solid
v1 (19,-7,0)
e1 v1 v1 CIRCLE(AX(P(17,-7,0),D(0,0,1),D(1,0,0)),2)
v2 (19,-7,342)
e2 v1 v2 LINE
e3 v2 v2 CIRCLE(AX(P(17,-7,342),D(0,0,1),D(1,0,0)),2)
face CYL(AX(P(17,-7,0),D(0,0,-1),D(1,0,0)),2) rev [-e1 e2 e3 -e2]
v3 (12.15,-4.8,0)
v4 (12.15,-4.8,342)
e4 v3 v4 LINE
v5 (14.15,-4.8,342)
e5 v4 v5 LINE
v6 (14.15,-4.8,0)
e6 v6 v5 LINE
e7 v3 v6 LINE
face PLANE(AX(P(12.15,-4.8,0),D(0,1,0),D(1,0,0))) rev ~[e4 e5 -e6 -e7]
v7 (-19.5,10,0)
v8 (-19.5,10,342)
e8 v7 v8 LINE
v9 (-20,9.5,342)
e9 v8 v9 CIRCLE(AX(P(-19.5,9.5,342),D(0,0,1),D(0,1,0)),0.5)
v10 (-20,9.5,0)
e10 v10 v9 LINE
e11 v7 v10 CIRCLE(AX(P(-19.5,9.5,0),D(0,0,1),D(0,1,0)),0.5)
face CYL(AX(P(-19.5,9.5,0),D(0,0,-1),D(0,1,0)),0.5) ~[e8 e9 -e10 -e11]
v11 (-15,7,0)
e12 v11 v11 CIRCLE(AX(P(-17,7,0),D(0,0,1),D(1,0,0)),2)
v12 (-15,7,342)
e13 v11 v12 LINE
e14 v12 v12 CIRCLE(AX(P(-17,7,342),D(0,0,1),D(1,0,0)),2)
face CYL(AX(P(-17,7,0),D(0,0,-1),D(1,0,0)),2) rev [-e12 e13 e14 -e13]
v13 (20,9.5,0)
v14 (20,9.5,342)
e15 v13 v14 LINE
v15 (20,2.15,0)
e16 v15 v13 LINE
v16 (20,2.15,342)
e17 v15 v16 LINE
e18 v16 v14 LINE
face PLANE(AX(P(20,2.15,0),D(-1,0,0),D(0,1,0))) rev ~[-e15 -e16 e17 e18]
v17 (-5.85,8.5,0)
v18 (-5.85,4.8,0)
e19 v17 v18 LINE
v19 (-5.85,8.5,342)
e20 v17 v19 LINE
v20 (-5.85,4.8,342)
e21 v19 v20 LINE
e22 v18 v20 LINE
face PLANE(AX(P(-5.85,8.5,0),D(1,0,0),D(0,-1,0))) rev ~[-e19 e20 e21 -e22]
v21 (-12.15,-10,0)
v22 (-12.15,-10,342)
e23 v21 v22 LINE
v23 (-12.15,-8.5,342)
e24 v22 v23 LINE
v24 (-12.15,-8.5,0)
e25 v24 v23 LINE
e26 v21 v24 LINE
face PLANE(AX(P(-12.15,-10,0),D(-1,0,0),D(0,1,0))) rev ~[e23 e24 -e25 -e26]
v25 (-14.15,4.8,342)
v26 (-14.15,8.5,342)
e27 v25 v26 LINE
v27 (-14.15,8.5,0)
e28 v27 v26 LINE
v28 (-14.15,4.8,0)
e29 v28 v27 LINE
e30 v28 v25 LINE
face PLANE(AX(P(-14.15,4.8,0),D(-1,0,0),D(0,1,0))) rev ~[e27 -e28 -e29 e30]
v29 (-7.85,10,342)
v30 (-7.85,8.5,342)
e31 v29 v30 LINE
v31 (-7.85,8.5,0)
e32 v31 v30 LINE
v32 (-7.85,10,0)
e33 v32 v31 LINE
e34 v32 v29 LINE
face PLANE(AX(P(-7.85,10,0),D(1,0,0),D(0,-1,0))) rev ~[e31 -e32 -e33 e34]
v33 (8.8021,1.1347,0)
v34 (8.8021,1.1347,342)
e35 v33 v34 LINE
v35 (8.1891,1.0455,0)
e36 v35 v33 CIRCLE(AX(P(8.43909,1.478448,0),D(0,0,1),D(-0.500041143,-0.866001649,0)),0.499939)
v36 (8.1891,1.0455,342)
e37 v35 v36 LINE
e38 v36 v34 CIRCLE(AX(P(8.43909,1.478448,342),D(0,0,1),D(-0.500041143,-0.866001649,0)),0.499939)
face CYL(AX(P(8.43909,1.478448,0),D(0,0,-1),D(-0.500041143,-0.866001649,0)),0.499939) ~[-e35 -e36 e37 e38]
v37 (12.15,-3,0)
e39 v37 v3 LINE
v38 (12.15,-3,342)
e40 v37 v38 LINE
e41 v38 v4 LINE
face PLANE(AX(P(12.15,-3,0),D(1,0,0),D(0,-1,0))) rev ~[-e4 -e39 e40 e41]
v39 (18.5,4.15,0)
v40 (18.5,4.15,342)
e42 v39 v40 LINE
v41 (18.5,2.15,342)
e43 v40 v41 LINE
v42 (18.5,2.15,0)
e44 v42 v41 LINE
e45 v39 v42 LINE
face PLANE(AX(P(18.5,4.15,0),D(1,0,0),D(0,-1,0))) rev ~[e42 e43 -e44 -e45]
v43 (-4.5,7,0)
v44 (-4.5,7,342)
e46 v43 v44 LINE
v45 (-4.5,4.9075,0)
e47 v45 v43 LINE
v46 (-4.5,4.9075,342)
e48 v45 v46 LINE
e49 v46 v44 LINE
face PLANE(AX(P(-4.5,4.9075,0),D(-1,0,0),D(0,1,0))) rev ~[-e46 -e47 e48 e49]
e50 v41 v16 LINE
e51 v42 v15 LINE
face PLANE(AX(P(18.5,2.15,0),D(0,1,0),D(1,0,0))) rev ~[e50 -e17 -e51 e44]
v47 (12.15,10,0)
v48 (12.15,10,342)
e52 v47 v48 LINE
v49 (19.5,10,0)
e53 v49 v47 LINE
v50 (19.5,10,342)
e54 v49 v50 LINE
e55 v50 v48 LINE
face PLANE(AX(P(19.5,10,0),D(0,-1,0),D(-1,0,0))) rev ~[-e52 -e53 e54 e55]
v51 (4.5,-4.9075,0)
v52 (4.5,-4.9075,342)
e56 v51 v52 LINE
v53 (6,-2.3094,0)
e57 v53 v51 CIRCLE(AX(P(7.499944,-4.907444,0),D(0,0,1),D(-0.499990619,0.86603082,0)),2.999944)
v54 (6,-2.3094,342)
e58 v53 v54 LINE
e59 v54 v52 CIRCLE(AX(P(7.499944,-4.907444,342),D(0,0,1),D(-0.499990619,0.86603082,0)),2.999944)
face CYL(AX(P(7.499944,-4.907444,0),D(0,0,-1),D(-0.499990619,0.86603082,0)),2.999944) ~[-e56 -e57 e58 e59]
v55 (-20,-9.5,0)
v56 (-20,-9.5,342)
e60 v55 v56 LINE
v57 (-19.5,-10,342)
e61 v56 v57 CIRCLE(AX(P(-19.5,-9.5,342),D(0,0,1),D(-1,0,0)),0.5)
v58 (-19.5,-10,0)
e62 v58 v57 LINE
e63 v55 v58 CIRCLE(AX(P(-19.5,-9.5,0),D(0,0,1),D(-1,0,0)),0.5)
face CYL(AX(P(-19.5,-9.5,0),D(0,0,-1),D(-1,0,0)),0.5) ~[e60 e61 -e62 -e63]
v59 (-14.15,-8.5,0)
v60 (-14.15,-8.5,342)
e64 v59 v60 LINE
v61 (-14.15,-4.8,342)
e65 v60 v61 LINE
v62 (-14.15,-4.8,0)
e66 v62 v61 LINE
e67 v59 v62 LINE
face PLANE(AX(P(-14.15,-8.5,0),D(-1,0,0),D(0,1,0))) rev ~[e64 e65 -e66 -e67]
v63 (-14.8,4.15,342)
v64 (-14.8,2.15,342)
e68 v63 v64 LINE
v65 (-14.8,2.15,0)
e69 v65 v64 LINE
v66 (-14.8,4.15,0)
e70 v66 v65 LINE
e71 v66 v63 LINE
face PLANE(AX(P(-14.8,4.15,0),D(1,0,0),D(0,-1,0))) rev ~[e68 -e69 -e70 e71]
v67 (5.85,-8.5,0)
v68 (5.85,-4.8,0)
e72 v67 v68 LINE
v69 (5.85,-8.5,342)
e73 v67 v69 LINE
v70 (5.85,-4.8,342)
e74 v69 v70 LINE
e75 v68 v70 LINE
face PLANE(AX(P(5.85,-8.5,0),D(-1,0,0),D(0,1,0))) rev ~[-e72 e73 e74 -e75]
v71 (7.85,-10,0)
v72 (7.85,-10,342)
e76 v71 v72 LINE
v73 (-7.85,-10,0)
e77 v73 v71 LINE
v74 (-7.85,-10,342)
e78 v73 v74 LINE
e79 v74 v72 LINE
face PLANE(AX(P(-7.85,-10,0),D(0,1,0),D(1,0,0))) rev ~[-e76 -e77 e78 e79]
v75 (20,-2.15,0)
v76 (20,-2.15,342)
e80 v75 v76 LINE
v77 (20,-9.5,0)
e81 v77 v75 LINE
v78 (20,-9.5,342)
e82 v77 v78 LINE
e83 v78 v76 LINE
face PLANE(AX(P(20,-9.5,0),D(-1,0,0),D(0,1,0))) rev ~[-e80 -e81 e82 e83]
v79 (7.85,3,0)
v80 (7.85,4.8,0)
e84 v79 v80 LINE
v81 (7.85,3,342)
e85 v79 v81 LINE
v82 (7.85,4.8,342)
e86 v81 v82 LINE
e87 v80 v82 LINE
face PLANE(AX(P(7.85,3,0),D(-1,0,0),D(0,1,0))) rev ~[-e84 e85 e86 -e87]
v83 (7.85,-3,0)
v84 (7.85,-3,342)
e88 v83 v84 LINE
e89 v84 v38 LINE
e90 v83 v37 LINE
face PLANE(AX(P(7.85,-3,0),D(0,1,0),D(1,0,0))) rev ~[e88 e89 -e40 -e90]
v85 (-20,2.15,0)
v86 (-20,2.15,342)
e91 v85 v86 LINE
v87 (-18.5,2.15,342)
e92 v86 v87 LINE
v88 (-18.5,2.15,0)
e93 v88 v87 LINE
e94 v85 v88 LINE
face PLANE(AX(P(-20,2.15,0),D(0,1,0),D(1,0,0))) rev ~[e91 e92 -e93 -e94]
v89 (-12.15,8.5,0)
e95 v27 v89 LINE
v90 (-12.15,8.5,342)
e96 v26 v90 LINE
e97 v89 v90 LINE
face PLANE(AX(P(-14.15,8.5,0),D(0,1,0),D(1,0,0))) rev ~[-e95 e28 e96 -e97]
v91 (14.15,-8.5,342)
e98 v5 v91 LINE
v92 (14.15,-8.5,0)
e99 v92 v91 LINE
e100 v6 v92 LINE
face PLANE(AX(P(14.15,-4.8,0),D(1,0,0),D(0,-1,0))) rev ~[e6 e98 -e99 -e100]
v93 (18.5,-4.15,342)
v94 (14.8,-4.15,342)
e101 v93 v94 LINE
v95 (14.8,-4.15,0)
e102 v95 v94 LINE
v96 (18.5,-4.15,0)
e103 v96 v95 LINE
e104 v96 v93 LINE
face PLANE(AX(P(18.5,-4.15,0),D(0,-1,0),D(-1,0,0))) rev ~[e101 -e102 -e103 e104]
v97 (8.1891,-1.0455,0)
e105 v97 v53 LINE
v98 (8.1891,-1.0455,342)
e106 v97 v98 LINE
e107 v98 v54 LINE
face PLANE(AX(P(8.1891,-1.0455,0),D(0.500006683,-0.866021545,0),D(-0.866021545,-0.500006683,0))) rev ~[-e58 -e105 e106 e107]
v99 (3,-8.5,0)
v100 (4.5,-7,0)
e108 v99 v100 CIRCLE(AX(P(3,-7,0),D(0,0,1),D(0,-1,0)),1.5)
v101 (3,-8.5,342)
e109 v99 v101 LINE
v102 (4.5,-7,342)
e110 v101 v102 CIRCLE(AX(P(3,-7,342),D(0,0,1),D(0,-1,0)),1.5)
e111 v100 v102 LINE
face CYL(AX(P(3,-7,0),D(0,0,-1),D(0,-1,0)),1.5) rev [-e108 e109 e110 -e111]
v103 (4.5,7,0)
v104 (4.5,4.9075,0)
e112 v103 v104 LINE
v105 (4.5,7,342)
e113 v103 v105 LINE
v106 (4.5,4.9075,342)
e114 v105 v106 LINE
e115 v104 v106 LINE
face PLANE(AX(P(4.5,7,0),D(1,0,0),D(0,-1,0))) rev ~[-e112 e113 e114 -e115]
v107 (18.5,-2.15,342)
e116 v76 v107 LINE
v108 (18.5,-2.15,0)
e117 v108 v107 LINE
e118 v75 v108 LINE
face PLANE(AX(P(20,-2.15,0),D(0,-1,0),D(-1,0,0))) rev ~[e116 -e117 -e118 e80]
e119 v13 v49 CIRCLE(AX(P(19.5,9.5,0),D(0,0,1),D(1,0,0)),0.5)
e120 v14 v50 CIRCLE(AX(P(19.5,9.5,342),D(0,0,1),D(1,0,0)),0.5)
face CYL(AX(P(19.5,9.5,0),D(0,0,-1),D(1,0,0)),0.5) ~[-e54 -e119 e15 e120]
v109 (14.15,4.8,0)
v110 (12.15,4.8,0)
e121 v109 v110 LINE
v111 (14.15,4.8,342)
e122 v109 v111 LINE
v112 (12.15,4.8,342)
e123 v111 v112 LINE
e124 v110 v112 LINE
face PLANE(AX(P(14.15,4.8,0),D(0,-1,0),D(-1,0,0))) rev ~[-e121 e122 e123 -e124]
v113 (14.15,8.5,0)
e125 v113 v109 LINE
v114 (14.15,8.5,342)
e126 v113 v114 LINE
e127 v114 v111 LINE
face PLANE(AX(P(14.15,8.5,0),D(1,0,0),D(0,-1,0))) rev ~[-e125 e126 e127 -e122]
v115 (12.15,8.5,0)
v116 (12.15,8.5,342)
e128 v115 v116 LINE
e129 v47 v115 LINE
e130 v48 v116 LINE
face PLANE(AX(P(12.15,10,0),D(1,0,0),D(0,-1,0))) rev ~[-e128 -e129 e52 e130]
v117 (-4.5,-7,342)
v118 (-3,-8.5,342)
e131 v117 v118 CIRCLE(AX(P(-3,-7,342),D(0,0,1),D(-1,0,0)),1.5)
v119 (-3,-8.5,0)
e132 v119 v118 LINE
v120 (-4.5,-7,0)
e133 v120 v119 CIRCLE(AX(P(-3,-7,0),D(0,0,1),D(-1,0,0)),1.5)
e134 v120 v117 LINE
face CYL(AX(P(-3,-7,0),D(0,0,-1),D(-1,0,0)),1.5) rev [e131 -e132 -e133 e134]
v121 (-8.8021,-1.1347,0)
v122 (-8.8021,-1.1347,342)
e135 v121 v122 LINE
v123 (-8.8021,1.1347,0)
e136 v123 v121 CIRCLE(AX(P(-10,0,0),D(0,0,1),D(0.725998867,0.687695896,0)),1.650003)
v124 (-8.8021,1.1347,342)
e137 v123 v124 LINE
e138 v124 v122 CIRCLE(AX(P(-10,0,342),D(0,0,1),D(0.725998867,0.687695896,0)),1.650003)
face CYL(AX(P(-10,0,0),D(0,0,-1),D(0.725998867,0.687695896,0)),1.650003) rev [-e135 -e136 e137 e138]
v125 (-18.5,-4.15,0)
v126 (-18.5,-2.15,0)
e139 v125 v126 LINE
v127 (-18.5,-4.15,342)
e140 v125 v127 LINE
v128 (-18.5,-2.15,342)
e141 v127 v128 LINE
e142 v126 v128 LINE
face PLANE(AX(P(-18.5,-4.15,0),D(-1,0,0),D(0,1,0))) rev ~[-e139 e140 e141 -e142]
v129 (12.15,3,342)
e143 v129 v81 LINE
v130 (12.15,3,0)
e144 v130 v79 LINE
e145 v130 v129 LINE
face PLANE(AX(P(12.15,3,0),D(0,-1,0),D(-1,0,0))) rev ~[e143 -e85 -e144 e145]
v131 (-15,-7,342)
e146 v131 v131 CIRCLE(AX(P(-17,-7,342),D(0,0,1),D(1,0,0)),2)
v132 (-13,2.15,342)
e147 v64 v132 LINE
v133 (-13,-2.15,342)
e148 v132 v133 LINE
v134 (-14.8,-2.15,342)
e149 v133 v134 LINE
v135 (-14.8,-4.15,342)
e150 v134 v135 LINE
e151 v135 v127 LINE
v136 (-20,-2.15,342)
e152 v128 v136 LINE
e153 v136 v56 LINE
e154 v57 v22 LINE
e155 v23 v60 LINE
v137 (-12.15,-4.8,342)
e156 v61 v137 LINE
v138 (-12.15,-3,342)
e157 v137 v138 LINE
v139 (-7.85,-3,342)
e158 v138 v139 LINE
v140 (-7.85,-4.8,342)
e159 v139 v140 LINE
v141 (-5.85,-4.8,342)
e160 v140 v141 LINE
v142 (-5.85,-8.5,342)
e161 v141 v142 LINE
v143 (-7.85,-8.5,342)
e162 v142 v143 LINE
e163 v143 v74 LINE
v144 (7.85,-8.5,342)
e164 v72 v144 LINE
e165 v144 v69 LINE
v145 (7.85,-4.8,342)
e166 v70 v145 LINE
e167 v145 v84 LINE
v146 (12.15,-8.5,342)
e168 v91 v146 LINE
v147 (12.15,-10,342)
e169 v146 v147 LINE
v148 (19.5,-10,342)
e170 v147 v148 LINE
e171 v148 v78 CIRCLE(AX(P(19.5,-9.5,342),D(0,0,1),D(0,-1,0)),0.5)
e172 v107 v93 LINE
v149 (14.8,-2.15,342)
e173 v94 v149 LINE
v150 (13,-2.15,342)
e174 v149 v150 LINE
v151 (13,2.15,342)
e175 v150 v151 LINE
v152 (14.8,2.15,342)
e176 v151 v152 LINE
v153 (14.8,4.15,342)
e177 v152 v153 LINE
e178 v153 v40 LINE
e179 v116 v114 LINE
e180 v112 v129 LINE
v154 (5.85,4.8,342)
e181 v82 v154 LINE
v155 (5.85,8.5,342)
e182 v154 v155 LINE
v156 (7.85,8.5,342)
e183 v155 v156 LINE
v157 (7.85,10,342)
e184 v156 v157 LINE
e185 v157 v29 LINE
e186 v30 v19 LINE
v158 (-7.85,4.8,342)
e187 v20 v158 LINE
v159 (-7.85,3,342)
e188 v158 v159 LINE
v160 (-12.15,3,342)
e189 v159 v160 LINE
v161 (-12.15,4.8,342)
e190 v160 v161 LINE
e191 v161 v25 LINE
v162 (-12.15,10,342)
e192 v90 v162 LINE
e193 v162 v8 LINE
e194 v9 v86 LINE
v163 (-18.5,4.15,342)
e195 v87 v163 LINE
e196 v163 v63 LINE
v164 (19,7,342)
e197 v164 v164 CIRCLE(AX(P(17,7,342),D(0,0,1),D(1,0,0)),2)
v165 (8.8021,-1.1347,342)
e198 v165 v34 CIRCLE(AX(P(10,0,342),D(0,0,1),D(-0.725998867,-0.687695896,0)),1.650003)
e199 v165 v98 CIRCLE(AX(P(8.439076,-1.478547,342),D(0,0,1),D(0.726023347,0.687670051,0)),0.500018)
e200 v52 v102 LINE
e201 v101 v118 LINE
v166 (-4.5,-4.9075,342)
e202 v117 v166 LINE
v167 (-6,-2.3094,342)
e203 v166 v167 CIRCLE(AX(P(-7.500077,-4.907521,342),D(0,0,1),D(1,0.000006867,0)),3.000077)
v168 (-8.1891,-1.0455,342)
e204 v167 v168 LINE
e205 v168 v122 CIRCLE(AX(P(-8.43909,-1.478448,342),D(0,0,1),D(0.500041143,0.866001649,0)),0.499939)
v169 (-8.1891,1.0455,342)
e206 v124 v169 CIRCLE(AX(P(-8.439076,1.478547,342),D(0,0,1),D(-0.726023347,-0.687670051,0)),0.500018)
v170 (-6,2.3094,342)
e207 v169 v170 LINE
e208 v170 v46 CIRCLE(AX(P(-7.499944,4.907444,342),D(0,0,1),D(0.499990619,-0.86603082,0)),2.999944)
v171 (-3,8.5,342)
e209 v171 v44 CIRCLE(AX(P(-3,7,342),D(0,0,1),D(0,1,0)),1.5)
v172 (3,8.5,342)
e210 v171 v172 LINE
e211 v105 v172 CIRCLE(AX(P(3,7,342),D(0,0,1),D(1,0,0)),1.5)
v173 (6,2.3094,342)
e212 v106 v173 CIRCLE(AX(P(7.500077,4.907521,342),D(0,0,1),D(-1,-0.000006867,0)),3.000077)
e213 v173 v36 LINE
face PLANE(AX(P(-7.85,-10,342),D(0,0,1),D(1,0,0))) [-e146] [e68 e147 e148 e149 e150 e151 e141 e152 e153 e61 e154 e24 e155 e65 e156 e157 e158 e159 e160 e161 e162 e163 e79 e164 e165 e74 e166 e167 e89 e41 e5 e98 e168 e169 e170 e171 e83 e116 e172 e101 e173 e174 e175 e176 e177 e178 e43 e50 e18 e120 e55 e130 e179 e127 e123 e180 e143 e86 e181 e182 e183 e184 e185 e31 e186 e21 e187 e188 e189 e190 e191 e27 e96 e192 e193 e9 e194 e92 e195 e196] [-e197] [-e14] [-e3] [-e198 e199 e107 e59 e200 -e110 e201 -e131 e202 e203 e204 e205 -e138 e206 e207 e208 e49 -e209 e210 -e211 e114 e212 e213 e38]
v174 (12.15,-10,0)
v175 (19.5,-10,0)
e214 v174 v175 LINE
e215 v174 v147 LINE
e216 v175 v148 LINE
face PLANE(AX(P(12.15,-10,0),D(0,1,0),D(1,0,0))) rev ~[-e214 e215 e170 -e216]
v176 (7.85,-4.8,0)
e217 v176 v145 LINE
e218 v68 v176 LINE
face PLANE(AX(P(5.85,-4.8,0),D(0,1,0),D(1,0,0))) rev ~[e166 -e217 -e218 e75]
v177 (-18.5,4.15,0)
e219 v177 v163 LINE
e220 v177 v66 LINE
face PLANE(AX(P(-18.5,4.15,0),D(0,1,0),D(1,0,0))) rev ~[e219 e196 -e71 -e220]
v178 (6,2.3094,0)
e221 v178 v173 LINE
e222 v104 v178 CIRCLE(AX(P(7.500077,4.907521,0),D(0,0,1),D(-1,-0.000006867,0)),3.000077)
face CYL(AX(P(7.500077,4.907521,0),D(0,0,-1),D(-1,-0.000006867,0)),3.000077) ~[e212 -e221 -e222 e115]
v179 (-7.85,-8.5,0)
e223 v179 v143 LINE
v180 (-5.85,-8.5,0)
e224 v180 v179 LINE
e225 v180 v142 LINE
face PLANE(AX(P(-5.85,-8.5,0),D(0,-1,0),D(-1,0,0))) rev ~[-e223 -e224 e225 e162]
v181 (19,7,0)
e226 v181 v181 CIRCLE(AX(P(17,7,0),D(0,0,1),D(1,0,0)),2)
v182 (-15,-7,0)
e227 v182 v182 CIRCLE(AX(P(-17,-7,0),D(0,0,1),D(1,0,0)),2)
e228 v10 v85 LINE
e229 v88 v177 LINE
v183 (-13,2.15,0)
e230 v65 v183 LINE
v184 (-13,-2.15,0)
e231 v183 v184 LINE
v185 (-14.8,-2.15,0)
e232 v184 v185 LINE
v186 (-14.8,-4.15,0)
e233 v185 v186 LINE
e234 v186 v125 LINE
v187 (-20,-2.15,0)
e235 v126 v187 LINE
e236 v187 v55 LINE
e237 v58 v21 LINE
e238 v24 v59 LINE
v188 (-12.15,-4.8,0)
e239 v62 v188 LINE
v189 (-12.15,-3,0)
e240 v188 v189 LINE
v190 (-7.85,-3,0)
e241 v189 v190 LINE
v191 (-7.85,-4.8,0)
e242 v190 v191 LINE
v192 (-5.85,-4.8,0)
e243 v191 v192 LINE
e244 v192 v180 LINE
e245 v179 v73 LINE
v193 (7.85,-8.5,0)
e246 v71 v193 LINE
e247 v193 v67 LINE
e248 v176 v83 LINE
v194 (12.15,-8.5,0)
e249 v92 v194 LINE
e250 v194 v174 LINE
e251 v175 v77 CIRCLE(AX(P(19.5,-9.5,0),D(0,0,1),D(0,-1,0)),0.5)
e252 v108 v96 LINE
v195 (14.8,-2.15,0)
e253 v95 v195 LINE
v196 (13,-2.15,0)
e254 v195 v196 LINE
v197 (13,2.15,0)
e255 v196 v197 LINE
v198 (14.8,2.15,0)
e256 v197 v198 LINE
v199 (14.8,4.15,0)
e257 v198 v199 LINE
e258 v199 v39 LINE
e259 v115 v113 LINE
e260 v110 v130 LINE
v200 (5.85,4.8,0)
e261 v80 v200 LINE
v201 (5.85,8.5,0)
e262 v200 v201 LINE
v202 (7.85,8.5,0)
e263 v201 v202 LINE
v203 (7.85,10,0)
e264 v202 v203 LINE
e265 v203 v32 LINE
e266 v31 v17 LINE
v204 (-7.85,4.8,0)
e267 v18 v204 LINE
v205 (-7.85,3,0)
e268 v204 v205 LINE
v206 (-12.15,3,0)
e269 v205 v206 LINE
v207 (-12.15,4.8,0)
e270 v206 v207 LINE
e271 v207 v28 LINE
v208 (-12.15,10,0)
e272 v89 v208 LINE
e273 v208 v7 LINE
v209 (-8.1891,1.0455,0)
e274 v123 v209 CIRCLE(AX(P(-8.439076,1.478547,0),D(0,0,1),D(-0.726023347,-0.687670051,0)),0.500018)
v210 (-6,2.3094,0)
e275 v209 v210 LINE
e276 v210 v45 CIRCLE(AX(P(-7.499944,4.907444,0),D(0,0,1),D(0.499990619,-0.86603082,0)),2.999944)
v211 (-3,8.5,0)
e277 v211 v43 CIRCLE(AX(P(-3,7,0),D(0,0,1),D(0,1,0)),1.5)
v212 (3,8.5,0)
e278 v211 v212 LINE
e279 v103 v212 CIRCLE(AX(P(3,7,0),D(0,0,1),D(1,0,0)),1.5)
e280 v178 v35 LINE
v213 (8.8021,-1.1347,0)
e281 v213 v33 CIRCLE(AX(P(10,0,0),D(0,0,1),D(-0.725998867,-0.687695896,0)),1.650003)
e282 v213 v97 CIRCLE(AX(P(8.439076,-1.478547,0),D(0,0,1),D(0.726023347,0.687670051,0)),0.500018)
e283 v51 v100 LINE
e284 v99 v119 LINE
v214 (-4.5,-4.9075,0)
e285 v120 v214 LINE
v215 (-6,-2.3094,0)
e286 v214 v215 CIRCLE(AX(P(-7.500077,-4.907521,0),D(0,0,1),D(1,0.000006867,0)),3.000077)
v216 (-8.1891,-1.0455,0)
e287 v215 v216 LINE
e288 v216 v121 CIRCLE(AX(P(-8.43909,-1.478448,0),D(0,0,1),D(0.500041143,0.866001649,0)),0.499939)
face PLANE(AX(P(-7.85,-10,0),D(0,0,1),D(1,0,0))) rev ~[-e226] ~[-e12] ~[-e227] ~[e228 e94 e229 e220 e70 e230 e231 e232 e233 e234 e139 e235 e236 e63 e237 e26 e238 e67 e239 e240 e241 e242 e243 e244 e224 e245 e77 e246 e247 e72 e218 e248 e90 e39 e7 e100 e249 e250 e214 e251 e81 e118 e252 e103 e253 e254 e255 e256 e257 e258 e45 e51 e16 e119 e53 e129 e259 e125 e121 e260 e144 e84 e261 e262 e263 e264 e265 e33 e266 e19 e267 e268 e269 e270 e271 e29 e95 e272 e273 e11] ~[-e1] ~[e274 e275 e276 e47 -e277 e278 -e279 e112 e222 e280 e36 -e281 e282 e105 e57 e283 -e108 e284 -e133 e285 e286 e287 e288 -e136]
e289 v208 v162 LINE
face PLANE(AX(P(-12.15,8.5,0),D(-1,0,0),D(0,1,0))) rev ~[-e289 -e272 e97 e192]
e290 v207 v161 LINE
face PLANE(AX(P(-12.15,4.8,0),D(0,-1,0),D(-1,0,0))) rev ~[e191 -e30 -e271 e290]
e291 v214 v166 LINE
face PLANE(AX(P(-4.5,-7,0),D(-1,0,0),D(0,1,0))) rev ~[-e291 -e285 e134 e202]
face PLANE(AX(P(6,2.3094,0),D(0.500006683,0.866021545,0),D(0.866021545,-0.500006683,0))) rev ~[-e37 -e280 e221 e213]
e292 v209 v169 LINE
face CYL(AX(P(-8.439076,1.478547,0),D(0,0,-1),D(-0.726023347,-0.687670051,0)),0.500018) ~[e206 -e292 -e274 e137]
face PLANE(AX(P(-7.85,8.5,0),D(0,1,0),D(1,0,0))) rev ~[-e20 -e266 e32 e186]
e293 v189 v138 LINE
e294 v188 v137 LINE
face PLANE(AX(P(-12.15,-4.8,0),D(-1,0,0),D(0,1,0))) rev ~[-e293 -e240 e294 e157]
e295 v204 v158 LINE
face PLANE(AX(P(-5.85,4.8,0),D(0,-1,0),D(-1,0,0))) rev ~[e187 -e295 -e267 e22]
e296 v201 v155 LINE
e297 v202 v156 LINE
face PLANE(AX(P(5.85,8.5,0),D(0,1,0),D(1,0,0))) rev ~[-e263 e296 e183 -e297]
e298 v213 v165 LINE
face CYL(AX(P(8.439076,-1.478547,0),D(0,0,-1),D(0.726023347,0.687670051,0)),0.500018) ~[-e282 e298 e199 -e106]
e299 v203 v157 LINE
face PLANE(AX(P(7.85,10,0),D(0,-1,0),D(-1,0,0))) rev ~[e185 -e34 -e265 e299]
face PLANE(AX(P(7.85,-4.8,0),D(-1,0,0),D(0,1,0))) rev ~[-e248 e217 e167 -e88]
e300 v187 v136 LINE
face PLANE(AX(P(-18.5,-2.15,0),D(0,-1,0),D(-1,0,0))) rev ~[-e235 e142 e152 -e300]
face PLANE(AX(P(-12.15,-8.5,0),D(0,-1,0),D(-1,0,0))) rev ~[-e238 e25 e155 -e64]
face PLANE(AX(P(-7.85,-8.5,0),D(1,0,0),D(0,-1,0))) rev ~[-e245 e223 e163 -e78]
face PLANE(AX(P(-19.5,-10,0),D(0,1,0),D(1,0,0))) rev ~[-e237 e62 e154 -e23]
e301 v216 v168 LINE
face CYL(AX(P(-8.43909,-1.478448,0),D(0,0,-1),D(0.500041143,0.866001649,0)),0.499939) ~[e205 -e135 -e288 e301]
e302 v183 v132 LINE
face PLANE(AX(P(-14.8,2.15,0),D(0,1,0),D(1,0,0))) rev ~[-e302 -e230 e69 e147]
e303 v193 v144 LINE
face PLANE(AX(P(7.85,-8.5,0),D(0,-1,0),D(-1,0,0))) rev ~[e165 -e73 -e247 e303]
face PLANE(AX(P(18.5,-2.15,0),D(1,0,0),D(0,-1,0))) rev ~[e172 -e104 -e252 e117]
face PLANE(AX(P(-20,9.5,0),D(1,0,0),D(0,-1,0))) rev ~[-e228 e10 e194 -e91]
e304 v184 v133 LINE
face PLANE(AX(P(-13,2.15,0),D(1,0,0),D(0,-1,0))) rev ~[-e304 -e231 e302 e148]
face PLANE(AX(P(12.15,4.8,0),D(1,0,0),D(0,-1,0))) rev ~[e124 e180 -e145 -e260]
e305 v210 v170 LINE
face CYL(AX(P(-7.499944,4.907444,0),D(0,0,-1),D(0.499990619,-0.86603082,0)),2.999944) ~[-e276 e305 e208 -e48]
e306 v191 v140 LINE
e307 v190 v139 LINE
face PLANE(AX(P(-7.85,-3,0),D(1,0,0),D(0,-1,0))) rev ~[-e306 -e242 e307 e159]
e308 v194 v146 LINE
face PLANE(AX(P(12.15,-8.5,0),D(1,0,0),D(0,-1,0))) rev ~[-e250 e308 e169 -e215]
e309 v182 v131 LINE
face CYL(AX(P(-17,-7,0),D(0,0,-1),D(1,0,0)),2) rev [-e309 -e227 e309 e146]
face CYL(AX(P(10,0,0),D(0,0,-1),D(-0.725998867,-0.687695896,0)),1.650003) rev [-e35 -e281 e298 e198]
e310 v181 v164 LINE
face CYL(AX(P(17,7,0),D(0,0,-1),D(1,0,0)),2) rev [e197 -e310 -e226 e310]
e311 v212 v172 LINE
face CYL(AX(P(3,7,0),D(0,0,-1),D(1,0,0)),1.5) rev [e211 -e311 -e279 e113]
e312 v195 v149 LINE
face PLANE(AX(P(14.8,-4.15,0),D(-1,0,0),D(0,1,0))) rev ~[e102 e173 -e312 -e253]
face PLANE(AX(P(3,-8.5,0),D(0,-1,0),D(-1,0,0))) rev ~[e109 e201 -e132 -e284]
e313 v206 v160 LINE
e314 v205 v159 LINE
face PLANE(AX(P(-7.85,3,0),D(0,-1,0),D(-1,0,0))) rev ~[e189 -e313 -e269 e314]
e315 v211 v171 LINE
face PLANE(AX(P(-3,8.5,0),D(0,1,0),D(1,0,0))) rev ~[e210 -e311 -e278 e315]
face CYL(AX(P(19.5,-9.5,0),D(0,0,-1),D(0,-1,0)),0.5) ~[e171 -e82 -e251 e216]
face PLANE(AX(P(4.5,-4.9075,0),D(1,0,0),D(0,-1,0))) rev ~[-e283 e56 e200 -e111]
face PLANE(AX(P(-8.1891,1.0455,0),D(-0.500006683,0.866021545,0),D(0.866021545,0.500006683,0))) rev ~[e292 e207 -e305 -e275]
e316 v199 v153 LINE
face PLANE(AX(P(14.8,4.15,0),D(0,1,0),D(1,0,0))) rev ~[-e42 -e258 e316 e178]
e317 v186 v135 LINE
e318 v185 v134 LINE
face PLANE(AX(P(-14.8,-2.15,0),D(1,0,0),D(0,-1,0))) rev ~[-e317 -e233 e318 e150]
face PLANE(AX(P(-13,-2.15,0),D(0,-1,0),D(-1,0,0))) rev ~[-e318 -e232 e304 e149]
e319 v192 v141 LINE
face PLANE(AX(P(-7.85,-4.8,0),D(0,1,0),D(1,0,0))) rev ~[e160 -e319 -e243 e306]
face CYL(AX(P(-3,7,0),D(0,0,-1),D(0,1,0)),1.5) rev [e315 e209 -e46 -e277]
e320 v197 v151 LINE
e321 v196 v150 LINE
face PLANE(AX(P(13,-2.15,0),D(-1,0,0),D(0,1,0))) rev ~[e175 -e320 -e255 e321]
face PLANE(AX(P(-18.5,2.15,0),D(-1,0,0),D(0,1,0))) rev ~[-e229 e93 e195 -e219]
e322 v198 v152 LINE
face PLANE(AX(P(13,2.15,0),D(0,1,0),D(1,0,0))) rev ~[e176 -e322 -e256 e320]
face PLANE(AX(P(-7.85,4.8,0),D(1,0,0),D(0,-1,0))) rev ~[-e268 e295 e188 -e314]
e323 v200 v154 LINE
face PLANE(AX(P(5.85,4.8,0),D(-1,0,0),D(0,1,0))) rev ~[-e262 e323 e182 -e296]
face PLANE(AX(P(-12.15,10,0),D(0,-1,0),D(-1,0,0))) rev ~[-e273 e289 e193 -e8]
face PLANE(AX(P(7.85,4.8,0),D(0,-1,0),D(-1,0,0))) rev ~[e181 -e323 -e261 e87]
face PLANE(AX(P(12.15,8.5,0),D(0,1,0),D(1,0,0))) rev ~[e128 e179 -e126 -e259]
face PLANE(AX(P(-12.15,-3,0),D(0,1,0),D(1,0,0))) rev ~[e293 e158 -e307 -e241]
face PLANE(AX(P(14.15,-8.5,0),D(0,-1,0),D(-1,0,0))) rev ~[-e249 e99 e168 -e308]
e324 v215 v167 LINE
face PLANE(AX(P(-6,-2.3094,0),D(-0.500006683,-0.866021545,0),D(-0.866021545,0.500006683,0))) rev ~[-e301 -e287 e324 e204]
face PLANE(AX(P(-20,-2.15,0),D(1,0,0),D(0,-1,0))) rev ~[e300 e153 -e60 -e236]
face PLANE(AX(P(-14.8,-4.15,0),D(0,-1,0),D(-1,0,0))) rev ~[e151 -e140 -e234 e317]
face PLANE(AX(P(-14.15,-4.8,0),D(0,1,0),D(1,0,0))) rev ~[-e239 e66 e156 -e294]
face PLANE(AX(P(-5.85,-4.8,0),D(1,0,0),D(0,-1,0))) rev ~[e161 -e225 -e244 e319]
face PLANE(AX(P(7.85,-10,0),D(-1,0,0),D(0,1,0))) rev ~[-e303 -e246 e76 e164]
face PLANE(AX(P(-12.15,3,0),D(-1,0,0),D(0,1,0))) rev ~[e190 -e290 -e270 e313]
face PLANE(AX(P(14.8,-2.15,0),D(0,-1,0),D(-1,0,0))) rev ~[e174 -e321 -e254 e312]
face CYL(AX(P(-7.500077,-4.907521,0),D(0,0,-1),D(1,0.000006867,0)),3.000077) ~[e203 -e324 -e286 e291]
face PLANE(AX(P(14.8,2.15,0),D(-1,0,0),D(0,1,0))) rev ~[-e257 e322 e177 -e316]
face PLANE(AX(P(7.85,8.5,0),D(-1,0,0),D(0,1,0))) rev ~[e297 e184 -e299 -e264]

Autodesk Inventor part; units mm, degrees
ref_plane "YZ Plane" through (0, 0, 0) normal (1, 0, 0) x (0, 1, 0)
ref_plane "XZ Plane" through (0, 0, 0) normal (0, 1, 0) x (-1, 0, 0)
ref_plane "XY Plane" through (0, 0, 0) normal (0, 0, 1) x (1, 0, 0)
sketch "スケッチ1" plane through (-7.85, -10, 0) normal (0, 0, 1) x (1, 0, 0)
  line L0 (-6.3, 14.8) -> (-6.3, 18.5) projected
  line L1 (0, 13) -> (-4.3, 13) projected
  line L2 (-4.3, 13) -> (-4.3, 14.8) projected
  line L3 (-4.3, 14.8) -> (-6.3, 14.8) projected
  line L4 (-6.3, 14.8) -> (-6.3, 18.5) projected
  line L5 (-6.3, 18.5) -> (-4.3, 18.5) projected
  line L6 (-4.3, 18.5) -> (-4.3, 20) projected
  line L7 (-4.3, 20) -> (-11.65, 20) projected
  arc A0 (-11.65, 20) -> (-12.15, 19.5) centre (-11.65, 19.5) ccw projected
  line L8 (-12.15, 19.5) -> (-12.15, 12.15) projected
  line L9 (-12.15, 12.15) -> (-10.65, 12.15) projected
  line L10 (-10.65, 12.15) -> (-10.65, 14.15) projected
  line L11 (-10.65, 14.15) -> (-6.95, 14.15) projected
  line L12 (-6.95, 14.15) -> (-6.95, 12.15) projected
  line L13 (-6.95, 12.15) -> (-5.15, 12.15) projected
  line L14 (-5.15, 12.15) -> (-5.15, 7.85) projected
  line L15 (-5.15, 7.85) -> (-6.95, 7.85) projected
  line L16 (-6.95, 7.85) -> (-6.95, 5.85) projected
  line L17 (-6.95, 5.85) -> (-10.65, 5.85) projected
  line L18 (-10.65, 5.85) -> (-10.65, 7.85) projected
  line L19 (-10.65, 7.85) -> (-12.15, 7.85) projected
  line L20 (-12.15, 7.85) -> (-12.15, 0.5) projected
  arc A1 (-12.15, 0.5) -> (-11.65, 0) centre (-11.65, 0.5) ccw projected
  line L21 (-11.65, 0) -> (-4.3, 0) projected
  line L22 (-4.3, 0) -> (-4.3, 1.5) projected
  line L23 (-4.3, 1.5) -> (-6.3, 1.5) projected
  line L24 (-6.3, 1.5) -> (-6.3, 5.2) projected
  line L25 (-6.3, 5.2) -> (-4.3, 5.2) projected
  line L26 (-4.3, 5.2) -> (-4.3, 7) projected
  line L27 (-4.3, 7) -> (0, 7) projected
  line L28 (0, 7) -> (0, 5.2) projected
  line L29 (0, 5.2) -> (2, 5.2) projected
  line L30 (2, 5.2) -> (2, 1.5) projected
  line L31 (2, 1.5) -> (0, 1.5) projected
  line L32 (0, 1.5) -> (0, 0) projected
  line L33 (0, 0) -> (15.7, 0) projected
  line L34 (15.7, 0) -> (15.7, 1.5) projected
  line L35 (15.7, 1.5) -> (13.7, 1.5) projected
  line L36 (13.7, 1.5) -> (13.7, 5.2) projected
  line L37 (13.7, 5.2) -> (15.7, 5.2) projected
  line L38 (15.7, 5.2) -> (15.7, 7) projected
  line L39 (15.7, 7) -> (20, 7) projected
  line L40 (20, 7) -> (20, 5.2) projected
  line L41 (20, 5.2) -> (22, 5.2) projected
  line L42 (22, 5.2) -> (22, 1.5) projected
  line L43 (22, 1.5) -> (20, 1.5) projected
  line L44 (20, 1.5) -> (20, 0) projected
  line L45 (20, 0) -> (27.35, 0) projected
  arc A2 (27.35, 0) -> (27.85, 0.5) centre (27.35, 0.5) ccw projected
  line L46 (27.85, 0.5) -> (27.85, 7.85) projected
  line L47 (27.85, 7.85) -> (26.35, 7.85) projected
  line L48 (26.35, 7.85) -> (26.35, 5.85) projected
  line L49 (26.35, 5.85) -> (22.65, 5.85) projected
  line L50 (22.65, 5.85) -> (22.65, 7.85) projected
  line L51 (22.65, 7.85) -> (20.85, 7.85) projected
  line L52 (20.85, 7.85) -> (20.85, 12.15) projected
  line L53 (20.85, 12.15) -> (22.65, 12.15) projected
  line L54 (22.65, 12.15) -> (22.65, 14.15) projected
  line L55 (22.65, 14.15) -> (26.35, 14.15) projected
  line L56 (26.35, 14.15) -> (26.35, 12.15) projected
  line L57 (26.35, 12.15) -> (27.85, 12.15) projected
  line L58 (27.85, 12.15) -> (27.85, 19.5) projected
  arc A3 (27.85, 19.5) -> (27.35, 20) centre (27.35, 19.5) ccw projected
  line L59 (27.35, 20) -> (20, 20) projected
  line L60 (20, 20) -> (20, 18.5) projected
  line L61 (20, 18.5) -> (22, 18.5) projected
  line L62 (22, 18.5) -> (22, 14.8) projected
  line L63 (22, 14.8) -> (20, 14.8) projected
  line L64 (20, 14.8) -> (20, 13) projected
  line L65 (20, 13) -> (15.7, 13) projected
  line L66 (15.7, 13) -> (15.7, 14.8) projected
  line L67 (15.7, 14.8) -> (13.7, 14.8) projected
  line L68 (13.7, 14.8) -> (13.7, 18.5) projected
  line L69 (13.7, 18.5) -> (15.7, 18.5) projected
  line L70 (15.7, 18.5) -> (15.7, 20) projected
  line L71 (15.7, 20) -> (0, 20) projected
  line L72 (0, 20) -> (0, 18.5) projected
  line L73 (0, 18.5) -> (2, 18.5) projected
  line L74 (2, 18.5) -> (2, 14.8) projected
  line L75 (2, 14.8) -> (0, 14.8) projected
  line L76 (0, 14.8) -> (0, 13) projected
  line L77 (12.35, 17) -> (12.35, 14.9075) projected
  arc A4 (12.35, 14.9075) -> (13.85, 12.3094) centre (15.35, 14.9075) ccw projected
  line L78 (13.85, 12.3094) -> (16.0391, 11.0455) projected
  arc A5 (16.0391, 11.0455) -> (16.6521, 11.1347) centre (16.2891, 11.4785) ccw projected
  arc A6 (16.6521, 8.8653) -> (16.6521, 11.1347) centre (17.85, 10) ccw projected
  arc A7 (16.6521, 8.8653) -> (16.0391, 8.9545) centre (16.2891, 8.5215) ccw projected
  line L79 (16.0391, 8.9545) -> (13.85, 7.6906) projected
  arc A8 (13.85, 7.6906) -> (12.35, 5.0925) centre (15.35, 5.0925) ccw projected
  line L80 (12.35, 5.0925) -> (12.35, 3) projected
  arc A9 (10.85, 1.5) -> (12.35, 3) centre (10.85, 3) ccw projected
  line L81 (10.85, 1.5) -> (4.85, 1.5) projected
  arc A10 (3.35, 3) -> (4.85, 1.5) centre (4.85, 3) ccw projected
  line L82 (3.35, 3) -> (3.35, 5.0925) projected
  arc A11 (3.35, 5.0925) -> (1.85, 7.6906) centre (0.35, 5.0925) ccw projected
  line L83 (1.85, 7.6906) -> (-0.3391, 8.9545) projected
  arc A12 (-0.3391, 8.9545) -> (-0.9521, 8.8653) centre (-0.5891, 8.5215) ccw projected
  arc A13 (-0.9521, 11.1347) -> (-0.9521, 8.8653) centre (-2.15, 10) ccw projected
  arc A14 (-0.9521, 11.1347) -> (-0.3391, 11.0455) centre (-0.5891, 11.4785) ccw projected
  line L84 (-0.3391, 11.0455) -> (1.85, 12.3094) projected
  arc A15 (1.85, 12.3094) -> (3.35, 14.9075) centre (0.35, 14.9075) ccw projected
  line L85 (3.35, 14.9075) -> (3.35, 17) projected
  arc A16 (4.85, 18.5) -> (3.35, 17) centre (4.85, 17) ccw projected
  line L86 (4.85, 18.5) -> (10.85, 18.5) projected
  arc A17 (12.35, 17) -> (10.85, 18.5) centre (10.85, 17) ccw projected
  circle A18 centre (24.85, 3) radius 2 projected
  circle A19 centre (-9.15, 3) radius 2 projected
  circle A20 centre (-9.15, 17) radius 2 projected
  circle A21 centre (24.85, 17) radius 2 projected
  point P0 (7.85, 10)
extrude "押し出し1" add sketch "スケッチ1" along normal blind 342
equation "\"d0\" = L"
equation "\"L\" = 342"
properties part number "AFS-2040-4-342" material "アルミニウム 6061"
